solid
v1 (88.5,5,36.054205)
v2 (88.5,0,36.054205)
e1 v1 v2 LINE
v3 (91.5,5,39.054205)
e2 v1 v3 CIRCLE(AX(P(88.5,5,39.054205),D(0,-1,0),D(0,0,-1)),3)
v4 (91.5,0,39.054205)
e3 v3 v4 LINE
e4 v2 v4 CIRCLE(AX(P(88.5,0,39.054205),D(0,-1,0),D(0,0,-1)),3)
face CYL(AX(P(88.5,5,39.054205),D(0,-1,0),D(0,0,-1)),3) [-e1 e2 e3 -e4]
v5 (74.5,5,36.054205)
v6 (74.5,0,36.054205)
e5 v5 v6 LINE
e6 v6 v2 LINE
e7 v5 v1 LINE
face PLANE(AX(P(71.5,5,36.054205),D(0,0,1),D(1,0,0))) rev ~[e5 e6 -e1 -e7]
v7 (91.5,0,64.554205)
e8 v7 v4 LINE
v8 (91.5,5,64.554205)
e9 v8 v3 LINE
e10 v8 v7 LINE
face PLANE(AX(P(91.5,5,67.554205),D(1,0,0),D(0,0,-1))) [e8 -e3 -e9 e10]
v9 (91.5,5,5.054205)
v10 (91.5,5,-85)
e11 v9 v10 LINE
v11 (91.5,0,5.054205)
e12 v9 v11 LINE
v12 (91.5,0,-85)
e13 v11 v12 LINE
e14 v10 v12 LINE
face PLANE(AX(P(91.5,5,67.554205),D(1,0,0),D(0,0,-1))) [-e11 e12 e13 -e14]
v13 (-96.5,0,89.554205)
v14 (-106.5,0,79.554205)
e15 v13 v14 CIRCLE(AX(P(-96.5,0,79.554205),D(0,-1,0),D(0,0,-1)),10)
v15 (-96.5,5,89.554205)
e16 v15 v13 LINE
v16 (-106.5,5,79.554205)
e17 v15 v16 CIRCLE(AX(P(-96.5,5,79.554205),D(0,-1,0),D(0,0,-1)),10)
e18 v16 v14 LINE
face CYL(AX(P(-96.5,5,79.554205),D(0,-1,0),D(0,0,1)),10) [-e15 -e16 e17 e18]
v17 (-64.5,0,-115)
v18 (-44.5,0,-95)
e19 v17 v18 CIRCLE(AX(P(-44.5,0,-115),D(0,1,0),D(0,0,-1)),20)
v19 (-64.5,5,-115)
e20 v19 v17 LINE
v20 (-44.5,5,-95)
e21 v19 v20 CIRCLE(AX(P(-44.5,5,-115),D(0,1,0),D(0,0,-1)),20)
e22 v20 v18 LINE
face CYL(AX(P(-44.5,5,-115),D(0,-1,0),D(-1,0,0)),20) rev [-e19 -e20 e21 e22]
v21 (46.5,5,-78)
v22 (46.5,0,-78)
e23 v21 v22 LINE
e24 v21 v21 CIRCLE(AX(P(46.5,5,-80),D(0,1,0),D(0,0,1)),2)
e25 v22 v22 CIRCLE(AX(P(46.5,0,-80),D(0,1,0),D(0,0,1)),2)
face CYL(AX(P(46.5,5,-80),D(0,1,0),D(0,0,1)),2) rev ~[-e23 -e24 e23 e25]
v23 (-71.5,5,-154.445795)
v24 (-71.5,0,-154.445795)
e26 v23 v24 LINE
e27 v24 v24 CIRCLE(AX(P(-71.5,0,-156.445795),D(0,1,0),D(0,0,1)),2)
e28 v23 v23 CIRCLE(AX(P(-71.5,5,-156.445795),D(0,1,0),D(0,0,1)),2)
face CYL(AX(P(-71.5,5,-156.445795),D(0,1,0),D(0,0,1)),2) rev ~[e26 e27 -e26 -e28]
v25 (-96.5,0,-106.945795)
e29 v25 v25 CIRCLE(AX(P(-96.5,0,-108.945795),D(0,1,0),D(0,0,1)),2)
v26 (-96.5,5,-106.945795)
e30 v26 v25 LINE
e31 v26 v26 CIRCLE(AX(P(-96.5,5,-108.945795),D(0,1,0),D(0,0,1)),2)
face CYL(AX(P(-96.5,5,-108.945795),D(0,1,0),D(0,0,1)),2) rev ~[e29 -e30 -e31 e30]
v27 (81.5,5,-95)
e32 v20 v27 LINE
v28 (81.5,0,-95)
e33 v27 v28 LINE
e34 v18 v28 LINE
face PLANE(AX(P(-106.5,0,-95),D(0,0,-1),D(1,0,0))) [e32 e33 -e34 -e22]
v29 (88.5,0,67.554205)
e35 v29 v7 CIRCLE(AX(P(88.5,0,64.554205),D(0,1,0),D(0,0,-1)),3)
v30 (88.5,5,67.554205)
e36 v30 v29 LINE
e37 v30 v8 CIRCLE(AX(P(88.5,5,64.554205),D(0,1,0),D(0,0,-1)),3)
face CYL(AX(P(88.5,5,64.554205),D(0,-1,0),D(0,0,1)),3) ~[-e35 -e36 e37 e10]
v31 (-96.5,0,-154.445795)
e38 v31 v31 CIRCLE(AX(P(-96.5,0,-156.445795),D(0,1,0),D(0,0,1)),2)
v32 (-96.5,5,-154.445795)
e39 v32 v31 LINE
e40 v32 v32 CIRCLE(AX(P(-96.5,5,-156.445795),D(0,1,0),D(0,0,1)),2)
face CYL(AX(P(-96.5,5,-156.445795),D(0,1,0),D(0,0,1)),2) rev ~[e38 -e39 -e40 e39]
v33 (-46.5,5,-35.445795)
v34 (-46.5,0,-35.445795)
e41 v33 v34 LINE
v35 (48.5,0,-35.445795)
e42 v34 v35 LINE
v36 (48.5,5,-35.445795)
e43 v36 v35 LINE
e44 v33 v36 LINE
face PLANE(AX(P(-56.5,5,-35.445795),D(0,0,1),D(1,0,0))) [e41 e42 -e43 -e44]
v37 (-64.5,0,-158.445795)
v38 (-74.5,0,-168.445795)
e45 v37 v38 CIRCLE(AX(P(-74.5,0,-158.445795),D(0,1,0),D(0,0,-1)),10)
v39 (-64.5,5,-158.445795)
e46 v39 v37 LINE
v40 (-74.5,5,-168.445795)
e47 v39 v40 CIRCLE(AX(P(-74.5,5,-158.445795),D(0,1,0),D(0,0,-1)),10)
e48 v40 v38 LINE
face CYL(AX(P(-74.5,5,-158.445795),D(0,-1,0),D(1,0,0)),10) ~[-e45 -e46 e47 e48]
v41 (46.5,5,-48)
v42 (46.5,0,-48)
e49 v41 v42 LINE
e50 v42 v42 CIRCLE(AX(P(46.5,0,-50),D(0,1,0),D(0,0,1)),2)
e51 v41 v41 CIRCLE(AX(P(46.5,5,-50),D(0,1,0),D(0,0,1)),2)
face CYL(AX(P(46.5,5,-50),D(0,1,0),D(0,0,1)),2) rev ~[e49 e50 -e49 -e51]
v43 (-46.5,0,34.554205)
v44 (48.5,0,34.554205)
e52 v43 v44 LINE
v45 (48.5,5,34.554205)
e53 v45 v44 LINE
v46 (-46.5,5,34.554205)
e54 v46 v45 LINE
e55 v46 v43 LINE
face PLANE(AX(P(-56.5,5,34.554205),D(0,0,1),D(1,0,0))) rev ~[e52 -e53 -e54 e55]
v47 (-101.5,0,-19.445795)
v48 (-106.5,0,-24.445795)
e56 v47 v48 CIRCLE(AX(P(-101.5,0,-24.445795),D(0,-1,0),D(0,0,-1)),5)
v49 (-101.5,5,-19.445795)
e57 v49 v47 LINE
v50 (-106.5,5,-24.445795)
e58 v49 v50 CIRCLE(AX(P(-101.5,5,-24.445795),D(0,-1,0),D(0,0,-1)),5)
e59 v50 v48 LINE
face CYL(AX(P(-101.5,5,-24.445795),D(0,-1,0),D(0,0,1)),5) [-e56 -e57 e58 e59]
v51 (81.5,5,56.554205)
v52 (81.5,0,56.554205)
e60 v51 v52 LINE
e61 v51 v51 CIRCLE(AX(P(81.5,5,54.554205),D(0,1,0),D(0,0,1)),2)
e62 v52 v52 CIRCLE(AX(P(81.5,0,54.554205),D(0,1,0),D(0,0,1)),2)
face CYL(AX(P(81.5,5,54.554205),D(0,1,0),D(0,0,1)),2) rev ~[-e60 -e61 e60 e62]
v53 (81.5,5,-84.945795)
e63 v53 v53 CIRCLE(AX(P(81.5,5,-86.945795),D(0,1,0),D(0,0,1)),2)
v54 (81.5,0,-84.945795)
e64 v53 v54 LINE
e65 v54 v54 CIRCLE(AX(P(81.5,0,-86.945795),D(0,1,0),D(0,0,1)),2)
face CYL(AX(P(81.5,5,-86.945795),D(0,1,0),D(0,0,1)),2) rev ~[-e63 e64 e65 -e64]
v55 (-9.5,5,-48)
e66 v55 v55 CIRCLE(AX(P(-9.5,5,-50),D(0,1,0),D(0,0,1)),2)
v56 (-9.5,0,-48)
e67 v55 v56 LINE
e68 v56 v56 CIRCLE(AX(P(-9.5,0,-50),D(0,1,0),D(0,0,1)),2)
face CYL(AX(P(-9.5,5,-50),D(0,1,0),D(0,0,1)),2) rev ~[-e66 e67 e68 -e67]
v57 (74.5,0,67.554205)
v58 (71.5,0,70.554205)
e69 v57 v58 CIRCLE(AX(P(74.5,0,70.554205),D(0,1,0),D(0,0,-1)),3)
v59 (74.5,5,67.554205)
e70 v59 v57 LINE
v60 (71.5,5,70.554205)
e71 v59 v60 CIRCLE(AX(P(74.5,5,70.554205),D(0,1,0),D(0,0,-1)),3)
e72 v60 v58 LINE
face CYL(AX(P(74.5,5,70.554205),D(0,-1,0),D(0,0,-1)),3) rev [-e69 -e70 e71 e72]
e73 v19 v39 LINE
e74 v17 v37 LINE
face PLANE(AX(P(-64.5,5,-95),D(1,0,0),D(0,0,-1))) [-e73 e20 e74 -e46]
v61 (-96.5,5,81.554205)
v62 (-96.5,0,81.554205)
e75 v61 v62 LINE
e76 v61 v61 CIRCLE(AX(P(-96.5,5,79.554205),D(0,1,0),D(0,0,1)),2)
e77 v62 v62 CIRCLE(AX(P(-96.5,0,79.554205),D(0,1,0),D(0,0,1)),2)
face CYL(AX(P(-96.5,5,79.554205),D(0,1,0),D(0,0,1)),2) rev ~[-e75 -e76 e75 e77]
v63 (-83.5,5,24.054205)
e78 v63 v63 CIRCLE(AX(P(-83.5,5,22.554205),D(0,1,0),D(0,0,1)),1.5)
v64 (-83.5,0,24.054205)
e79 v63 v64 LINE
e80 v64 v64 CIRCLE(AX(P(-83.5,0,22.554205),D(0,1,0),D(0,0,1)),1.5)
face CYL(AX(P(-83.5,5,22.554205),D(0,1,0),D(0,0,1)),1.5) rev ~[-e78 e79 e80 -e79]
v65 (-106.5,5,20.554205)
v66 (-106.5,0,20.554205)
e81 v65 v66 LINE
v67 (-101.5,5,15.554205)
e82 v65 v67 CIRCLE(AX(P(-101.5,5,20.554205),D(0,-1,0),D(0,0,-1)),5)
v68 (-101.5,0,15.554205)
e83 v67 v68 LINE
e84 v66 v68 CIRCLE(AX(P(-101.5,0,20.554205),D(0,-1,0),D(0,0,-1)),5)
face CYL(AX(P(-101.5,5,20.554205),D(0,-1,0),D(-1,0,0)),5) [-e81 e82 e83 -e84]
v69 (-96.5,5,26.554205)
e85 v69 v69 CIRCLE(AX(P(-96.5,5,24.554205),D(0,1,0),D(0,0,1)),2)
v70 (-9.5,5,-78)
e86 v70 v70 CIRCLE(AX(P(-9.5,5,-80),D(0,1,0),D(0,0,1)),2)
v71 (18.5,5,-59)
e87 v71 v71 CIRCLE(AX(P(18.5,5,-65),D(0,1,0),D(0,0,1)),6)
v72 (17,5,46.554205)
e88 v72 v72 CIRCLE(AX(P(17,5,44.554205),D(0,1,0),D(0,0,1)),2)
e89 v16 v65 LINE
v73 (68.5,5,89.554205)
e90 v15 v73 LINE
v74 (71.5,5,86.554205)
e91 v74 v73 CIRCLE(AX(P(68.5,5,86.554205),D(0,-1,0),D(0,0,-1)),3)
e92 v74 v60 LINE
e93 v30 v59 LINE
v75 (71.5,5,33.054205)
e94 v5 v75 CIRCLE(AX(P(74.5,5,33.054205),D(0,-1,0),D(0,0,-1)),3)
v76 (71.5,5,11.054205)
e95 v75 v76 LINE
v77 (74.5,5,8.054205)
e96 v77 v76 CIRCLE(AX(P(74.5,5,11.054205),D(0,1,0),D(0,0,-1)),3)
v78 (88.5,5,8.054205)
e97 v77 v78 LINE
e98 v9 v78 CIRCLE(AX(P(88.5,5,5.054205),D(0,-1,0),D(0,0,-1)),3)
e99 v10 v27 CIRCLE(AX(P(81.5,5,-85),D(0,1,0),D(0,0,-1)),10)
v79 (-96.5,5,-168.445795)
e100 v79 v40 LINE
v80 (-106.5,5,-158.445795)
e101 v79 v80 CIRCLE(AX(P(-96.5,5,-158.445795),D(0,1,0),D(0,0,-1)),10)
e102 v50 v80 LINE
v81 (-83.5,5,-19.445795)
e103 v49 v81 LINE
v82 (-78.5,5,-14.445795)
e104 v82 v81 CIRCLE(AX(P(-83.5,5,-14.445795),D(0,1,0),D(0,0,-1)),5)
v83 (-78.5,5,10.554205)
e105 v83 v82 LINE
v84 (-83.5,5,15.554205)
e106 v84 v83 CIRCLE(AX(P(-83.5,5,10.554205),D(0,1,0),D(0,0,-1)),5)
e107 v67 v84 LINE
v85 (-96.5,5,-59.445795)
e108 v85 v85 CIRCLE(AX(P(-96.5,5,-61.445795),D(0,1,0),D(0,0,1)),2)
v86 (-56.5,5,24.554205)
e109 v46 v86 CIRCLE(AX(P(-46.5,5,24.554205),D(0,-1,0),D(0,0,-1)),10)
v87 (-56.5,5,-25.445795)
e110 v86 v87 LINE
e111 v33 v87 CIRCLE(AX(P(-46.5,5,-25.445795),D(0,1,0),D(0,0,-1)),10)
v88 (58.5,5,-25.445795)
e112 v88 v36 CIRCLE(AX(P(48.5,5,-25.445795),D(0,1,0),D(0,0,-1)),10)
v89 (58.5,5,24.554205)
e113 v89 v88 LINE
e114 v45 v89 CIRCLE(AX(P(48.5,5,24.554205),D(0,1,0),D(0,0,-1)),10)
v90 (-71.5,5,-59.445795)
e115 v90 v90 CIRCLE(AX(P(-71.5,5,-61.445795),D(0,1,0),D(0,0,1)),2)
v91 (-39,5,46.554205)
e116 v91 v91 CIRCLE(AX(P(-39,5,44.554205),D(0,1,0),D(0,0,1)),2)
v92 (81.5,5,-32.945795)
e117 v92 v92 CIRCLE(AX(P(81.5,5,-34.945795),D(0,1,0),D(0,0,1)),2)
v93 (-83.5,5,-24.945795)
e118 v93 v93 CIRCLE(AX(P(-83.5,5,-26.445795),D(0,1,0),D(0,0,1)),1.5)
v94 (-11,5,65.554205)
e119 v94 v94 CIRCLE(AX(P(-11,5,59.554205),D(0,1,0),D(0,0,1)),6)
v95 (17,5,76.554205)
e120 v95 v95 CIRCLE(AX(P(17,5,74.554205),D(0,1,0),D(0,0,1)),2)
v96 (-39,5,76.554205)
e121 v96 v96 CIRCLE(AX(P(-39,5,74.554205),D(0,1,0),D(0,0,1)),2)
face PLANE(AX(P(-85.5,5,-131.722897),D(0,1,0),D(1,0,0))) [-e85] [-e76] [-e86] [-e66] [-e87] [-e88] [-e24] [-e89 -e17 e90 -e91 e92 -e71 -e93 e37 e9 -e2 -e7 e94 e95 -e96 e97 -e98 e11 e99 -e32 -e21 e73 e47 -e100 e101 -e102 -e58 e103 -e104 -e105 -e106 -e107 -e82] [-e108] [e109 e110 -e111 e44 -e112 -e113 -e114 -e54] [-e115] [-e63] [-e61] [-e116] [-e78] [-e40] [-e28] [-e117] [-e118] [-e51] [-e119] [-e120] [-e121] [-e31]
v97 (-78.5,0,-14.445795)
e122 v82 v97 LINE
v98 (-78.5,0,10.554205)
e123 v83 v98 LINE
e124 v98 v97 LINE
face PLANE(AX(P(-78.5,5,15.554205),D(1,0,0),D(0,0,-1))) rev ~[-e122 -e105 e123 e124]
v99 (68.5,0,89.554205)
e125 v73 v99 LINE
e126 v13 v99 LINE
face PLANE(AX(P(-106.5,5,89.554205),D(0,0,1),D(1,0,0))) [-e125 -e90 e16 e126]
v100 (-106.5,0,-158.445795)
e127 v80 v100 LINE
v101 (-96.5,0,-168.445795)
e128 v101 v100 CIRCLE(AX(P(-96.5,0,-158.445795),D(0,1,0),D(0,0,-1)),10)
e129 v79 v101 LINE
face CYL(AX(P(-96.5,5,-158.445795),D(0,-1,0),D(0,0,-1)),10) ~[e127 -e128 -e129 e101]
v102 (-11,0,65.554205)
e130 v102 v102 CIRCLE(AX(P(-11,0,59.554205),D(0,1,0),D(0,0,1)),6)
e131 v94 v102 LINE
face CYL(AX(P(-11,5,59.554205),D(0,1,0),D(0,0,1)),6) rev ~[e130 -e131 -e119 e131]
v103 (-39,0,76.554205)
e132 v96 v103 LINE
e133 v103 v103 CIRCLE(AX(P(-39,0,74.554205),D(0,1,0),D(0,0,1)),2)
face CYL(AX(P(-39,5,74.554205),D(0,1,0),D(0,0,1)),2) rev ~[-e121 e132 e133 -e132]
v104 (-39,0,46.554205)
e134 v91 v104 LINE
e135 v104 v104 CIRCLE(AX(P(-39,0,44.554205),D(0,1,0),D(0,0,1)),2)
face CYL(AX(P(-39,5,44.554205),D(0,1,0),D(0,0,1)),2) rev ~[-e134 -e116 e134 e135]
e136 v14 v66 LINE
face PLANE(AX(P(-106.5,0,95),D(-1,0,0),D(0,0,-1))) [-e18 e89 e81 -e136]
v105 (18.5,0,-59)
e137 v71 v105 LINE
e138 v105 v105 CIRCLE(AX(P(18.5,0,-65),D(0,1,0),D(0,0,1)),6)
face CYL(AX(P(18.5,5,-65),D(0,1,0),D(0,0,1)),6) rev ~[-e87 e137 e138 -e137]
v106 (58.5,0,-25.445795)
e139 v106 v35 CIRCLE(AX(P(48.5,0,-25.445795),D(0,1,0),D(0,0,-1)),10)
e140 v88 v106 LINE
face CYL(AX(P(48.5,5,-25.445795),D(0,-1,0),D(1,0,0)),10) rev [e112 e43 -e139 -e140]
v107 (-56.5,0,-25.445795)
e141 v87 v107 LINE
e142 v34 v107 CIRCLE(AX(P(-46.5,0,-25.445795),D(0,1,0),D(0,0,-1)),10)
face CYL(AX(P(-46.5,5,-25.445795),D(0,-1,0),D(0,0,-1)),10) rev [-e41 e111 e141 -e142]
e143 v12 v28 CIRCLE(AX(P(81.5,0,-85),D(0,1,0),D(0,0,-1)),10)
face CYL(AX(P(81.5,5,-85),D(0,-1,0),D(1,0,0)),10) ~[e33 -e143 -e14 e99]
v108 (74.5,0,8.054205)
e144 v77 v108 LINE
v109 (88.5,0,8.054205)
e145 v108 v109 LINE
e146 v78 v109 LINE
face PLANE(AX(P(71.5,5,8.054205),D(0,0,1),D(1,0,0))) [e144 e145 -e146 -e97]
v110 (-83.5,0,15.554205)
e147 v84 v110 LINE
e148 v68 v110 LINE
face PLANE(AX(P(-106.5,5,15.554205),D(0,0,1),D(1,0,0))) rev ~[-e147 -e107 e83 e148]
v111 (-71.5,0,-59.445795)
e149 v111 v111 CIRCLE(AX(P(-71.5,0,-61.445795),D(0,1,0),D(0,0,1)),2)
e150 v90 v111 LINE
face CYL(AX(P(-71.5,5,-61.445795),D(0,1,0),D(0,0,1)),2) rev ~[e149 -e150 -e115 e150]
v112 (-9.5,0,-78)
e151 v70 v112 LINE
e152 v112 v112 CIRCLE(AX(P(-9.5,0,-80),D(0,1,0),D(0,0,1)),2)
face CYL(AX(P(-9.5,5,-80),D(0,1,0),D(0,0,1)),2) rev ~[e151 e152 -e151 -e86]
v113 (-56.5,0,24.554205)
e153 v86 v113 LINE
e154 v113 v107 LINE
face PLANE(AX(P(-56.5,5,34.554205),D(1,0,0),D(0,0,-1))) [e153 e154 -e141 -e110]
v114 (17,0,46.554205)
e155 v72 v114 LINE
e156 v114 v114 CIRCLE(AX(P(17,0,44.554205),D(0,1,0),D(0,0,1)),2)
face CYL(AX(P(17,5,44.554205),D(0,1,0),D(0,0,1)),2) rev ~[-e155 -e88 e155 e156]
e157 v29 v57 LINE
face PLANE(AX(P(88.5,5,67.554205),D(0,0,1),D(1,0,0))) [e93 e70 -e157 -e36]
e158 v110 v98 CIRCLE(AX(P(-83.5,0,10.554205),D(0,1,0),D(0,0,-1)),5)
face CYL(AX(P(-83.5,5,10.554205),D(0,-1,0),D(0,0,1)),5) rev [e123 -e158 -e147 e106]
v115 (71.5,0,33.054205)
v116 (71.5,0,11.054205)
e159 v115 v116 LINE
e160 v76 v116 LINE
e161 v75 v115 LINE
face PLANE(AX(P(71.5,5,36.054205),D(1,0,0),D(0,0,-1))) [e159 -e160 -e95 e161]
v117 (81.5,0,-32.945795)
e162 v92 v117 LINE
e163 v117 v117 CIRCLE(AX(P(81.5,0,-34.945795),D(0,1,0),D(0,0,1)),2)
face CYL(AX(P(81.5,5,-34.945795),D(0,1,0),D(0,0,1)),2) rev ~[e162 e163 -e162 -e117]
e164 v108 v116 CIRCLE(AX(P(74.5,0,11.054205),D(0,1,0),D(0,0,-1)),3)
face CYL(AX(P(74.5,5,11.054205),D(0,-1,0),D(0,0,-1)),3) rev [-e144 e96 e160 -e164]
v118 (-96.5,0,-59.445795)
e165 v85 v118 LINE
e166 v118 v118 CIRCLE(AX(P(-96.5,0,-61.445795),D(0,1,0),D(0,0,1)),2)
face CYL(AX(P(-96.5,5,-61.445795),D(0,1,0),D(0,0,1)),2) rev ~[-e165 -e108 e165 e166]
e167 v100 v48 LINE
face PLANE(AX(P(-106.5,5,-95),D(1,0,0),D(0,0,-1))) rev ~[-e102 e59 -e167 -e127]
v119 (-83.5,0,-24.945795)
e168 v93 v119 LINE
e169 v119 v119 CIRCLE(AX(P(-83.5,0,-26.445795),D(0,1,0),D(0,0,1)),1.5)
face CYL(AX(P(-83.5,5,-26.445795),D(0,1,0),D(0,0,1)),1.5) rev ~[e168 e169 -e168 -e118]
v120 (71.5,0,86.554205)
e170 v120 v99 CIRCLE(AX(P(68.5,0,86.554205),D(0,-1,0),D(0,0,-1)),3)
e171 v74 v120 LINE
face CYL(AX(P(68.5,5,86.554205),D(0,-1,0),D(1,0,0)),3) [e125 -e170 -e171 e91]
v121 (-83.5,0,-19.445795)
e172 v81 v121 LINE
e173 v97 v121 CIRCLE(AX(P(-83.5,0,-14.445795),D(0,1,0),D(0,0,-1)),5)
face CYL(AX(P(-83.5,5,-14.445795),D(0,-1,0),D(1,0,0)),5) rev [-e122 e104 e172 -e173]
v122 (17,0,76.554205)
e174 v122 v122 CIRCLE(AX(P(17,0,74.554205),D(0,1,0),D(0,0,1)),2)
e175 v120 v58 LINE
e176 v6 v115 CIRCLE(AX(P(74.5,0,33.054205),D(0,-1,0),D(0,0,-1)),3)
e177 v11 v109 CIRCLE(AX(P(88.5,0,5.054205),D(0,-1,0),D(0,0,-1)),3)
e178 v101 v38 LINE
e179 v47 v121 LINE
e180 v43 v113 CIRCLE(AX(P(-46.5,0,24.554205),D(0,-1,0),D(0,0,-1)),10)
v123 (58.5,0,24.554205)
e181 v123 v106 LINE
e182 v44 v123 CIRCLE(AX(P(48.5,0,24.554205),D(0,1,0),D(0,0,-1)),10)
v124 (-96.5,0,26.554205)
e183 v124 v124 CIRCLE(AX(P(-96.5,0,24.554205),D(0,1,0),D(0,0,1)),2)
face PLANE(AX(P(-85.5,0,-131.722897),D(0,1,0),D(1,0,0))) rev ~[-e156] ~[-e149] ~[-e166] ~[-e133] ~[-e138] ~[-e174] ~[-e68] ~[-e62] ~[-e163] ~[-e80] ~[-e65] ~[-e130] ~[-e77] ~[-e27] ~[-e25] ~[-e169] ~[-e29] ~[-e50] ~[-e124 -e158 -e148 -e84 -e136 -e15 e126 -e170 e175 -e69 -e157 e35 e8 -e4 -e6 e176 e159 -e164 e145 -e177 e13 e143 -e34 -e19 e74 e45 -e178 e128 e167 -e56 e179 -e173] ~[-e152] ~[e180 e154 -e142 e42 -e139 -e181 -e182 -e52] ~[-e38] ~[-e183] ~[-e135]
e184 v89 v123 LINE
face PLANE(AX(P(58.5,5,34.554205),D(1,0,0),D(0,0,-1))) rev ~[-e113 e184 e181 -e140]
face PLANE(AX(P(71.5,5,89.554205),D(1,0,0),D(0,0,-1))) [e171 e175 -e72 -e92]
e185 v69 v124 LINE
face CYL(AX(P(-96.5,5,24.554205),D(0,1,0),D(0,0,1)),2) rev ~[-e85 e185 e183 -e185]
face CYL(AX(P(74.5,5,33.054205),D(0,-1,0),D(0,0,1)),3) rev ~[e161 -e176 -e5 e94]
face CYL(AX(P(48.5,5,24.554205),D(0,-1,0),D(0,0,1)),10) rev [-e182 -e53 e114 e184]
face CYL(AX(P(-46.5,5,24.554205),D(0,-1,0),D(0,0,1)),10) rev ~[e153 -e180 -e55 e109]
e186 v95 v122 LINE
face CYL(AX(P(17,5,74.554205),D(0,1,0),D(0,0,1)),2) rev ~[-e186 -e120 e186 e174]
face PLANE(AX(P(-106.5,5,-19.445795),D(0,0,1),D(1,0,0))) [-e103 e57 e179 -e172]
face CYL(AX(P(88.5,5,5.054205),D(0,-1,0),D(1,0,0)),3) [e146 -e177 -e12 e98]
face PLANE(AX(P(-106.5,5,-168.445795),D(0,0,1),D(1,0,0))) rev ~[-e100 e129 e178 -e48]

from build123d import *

# Parameters (mm, degrees)
SKETCH_1_W           = 213
SKETCH_1_H           = 190
EXTRUDE_1_DEPTH      = 5
SKETCH_2_R           = 2
SKETCH_2_R_2         = 6
CUT_EXTRUDE_1_DEPTH  = 143.801435567
SKETCH_3_W           = 213
SKETCH_3_H           = 5.445794932
CUT_EXTRUDE_2_DEPTH  = 143.801435567
SKETCH_4_W           = 28
SKETCH_4_H           = 35
CUT_EXTRUDE_3_DEPTH  = 143.801435567
FILLET_1_R           = 5
SKETCH_5_W           = 42
SKETCH_5_H           = 73.445794932
EXTRUDE_2_DEPTH      = 5
FILLET_2_R           = 20
SKETCH_6_R           = 2
CUT_EXTRUDE_4_DEPTH  = 200.352039946
SKETCH_7_R           = 2
CUT_EXTRUDE_5_DEPTH  = 200.352039946
SKETCH_8_W           = 20
SKETCH_8_H           = 22
SKETCH_8_H_2         = 28
CUT_EXTRUDE_6_DEPTH  = 200.352039946
FILLET_3_R           = 3
SKETCH_9_W           = 18
SKETCH_9_H           = 22
CUT_EXTRUDE_7_DEPTH  = 200.352039946
SKETCH_10_R          = 1.5
CUT_EXTRUDE_8_DEPTH  = 200.352039946
FILLET_4_R           = 10
SKETCH_11_W          = 115
SKETCH_11_H          = 70
CUT_EXTRUDE_9_DEPTH  = 200.352039946
FILLET_5_R           = 10
SKETCH_12_W          = 19.993467056
SKETCH_12_H          = 162.554205068
CUT_EXTRUDE_10_DEPTH = 200.352039946
FILLET_6_R           = 3
FILLET_7_R           = 10


with BuildPart() as part:
    # 草图1 → 凸台-拉伸1 (new body)
    with BuildSketch(Plane(origin=(0, 0, 0), x_dir=(1, 0, 0), z_dir=(0, 1, 0))):
        Rectangle(SKETCH_1_W, SKETCH_1_H)
    extrude(amount=EXTRUDE_1_DEPTH)

    # 草图2 → 切除-拉伸1 (cut, through all)
    with BuildSketch(Plane(origin=(0, 5, 0), x_dir=(1, 0, 0), z_dir=(0, 1, 0))):
        with Locations(Location((-9.5, 80, 0), (0, 0, 270))):
            Circle(SKETCH_2_R)
        with Locations(Location((46.5, 80, 0), (0, 0, 270))):
            Circle(SKETCH_2_R)
        with Locations(Location((-9.5, 50, 0), (0, 0, 270))):
            Circle(SKETCH_2_R)
        with Locations(Location((46.5, 50, 0), (0, 0, 270))):
            Circle(SKETCH_2_R)
        with Locations(Location((-39, -44.554205068, 0), (0, 0, 270))):
            Circle(SKETCH_2_R)
        with Locations(Location((17, -44.554205068, 0), (0, 0, 270))):
            Circle(SKETCH_2_R)
        with Locations(Location((17, -74.554205068, 0), (0, 0, 270))):
            Circle(SKETCH_2_R)
        with Locations(Location((-39, -74.554205068, 0), (0, 0, 270))):
            Circle(SKETCH_2_R)
        with Locations(Location((-11, -59.554205068, 0), (0, 0, 270))):
            Circle(SKETCH_2_R_2)
        with Locations(Location((18.5, 65, 0), (0, 0, 270))):
            Circle(SKETCH_2_R_2)
    extrude(amount=-CUT_EXTRUDE_1_DEPTH, mode=Mode.SUBTRACT)

    # 草图3 → 切除-拉伸2 (cut, through all)
    with BuildSketch(Plane(origin=(0, 5, 0), x_dir=(1, 0, 0), z_dir=(0, 1, 0))):
        with Locations((0, -92.277102534)):
            Rectangle(SKETCH_3_W, SKETCH_3_H)
    extrude(amount=-CUT_EXTRUDE_2_DEPTH, mode=Mode.SUBTRACT)

    # 草图4 → 切除-拉伸3 (cut, through all)
    with BuildSketch(Plane(origin=(0, 5, 0), x_dir=(1, 0, 0), z_dir=(0, 1, 0))):
        with Locations((-92.5, 1.945794932)):
            Rectangle(SKETCH_4_W, SKETCH_4_H)
    extrude(amount=-CUT_EXTRUDE_3_DEPTH, mode=Mode.SUBTRACT)

    # 圆角1
    fillet_1_edges = [part.edges().sort_by_distance(p)[0] for p in [
        (-106.5, 2.5, 15.554205068),
        (-106.5, 2.5, -19.445794932),
        (-78.5, 2.5, -19.445794932),
        (-78.5, 2.5, 15.554205068),
    ]]
    fillet(fillet_1_edges, radius=FILLET_1_R)

    # 草图5 → 凸台-拉伸2 (add)
    with BuildSketch(Plane(origin=(0, 5, 0), x_dir=(1, 0, 0), z_dir=(0, 1, 0))):
        with Locations((-85.5, 131.722897466)):
            Rectangle(SKETCH_5_W, SKETCH_5_H)
    extrude(amount=-EXTRUDE_2_DEPTH)

    # 圆角2
    fillet_2_edges = [part.edges().sort_by_distance(p)[0] for p in [
        (-64.5, 2.5, -95),
    ]]
    fillet(fillet_2_edges, radius=FILLET_2_R)

    # 草图6 → 切除-拉伸4 (cut, through all)
    with BuildSketch(Plane(origin=(0, 5, 0), x_dir=(1, 0, 0), z_dir=(0, 1, 0))):
        with Locations(Location((-96.5, 156.445794932, 0), (0, 0, 270))):
            Circle(SKETCH_6_R)
        with Locations(Location((-71.5, 156.445794932, 0), (0, 0, 270))):
            Circle(SKETCH_6_R)
        with Locations(Location((-71.5, 61.445794932, 0), (0, 0, 270))):
            Circle(SKETCH_6_R)
        with Locations(Location((-96.5, 61.445794932, 0), (0, 0, 270))):
            Circle(SKETCH_6_R)
    extrude(amount=-CUT_EXTRUDE_4_DEPTH, mode=Mode.SUBTRACT)

    # 草图7 → 切除-拉伸5 (cut, through all)
    with BuildSketch(Plane(origin=(0, 5, 0), x_dir=(1, 0, 0), z_dir=(0, 1, 0))):
        with Locations(Location((-96.5, 108.945794932, 0), (0, 0, 270))):
            Circle(SKETCH_7_R)
        with Locations(Location((-96.5, -24.554205068, 0), (0, 0, 270))):
            Circle(SKETCH_7_R)
        with Locations(Location((-96.5, -79.554205068, 0), (0, 0, 270))):
            Circle(SKETCH_7_R)
        with Locations(Location((81.5, 86.945794932, 0), (0, 0, 270))):
            Circle(SKETCH_7_R)
        with Locations(Location((81.5, 34.945794932, 0), (0, 0, 270))):
            Circle(SKETCH_7_R)
        with Locations(Location((81.5, -54.554205068, 0), (0, 0, 270))):
            Circle(SKETCH_7_R)
    extrude(amount=-CUT_EXTRUDE_5_DEPTH, mode=Mode.SUBTRACT)

    # 草图8 → 切除-拉伸6 (cut, through all)
    with BuildSketch(Plane(origin=(0, 5, 0), x_dir=(1, 0, 0), z_dir=(0, 1, 0))):
        with Locations((81.5, -78.554205068)):
            Rectangle(SKETCH_8_W, SKETCH_8_H)
        with Locations((81.5, -22.054205068)):
            Rectangle(SKETCH_8_W, SKETCH_8_H_2)
    extrude(amount=-CUT_EXTRUDE_6_DEPTH, mode=Mode.SUBTRACT)

    # 圆角3
    fillet_3_edges = [part.edges().sort_by_distance(p)[0] for p in [
        (91.5, 2.5, 89.554205068),
        (71.5, 2.5, 89.554205068),
        (71.5, 2.5, 67.554205068),
        (91.5, 2.5, 67.554205068),
        (71.5, 2.5, 36.054205068),
        (71.5, 2.5, 8.054205068),
    ]]
    fillet(fillet_3_edges, radius=FILLET_3_R)

    # 草图9 → 切除-拉伸7 (cut, through all)
    with BuildSketch(Plane(origin=(0, 5, 0), x_dir=(1, 0, 0), z_dir=(0, 1, 0))):
        with Locations((97.5, -78.554205068)):
            Rectangle(SKETCH_9_W, SKETCH_9_H)
    extrude(amount=-CUT_EXTRUDE_7_DEPTH, mode=Mode.SUBTRACT)

    # 草图10 → 切除-拉伸8 (cut, through all)
    with BuildSketch(Plane(origin=(0, 5, 0), x_dir=(1, 0, 0), z_dir=(0, 1, 0))):
        with Locations(Location((-83.5, 26.445794932, 0), (0, 0, 270))):
            Circle(SKETCH_10_R)
        with Locations(Location((-83.5, -22.554205068, 0), (0, 0, 270))):
            Circle(SKETCH_10_R)
    extrude(amount=-CUT_EXTRUDE_8_DEPTH, mode=Mode.SUBTRACT)

    # 圆角4
    fillet_4_edges = [part.edges().sort_by_distance(p)[0] for p in [
        (-106.5, 2.5, -168.445794932),
        (-64.5, 2.5, -168.445794932),
        (106.5, 2.5, 67.554205068),
        (-106.5, 2.5, 89.554205068),
        (106.5, 2.5, -95),
    ]]
    fillet(fillet_4_edges, radius=FILLET_4_R)

    # 草图11 → 切除-拉伸9 (cut, through all)
    with BuildSketch(Plane(origin=(0, 5, 0), x_dir=(1, 0, 0), z_dir=(0, 1, 0))):
        with Locations((1, 0.445794932)):
            Rectangle(SKETCH_11_W, SKETCH_11_H)
    extrude(amount=-CUT_EXTRUDE_9_DEPTH, mode=Mode.SUBTRACT)

    # 圆角5
    fillet_5_edges = [part.edges().sort_by_distance(p)[0] for p in [
        (-56.5, 2.5, 34.554205068),
        (-56.5, 2.5, -35.445794932),
        (58.5, 2.5, -35.445794932),
        (58.5, 2.5, 34.554205068),
    ]]
    fillet(fillet_5_edges, radius=FILLET_5_R)

    # 草图12 → 切除-拉伸10 (cut, through all)
    with BuildSketch(Plane(origin=(0, 5, 0), x_dir=(1, 0, 0), z_dir=(0, 1, 0))):
        with Locations((101.496733528, 13.722897466)):
            Rectangle(SKETCH_12_W, SKETCH_12_H)
    extrude(amount=-CUT_EXTRUDE_10_DEPTH, mode=Mode.SUBTRACT)

    # 圆角6
    fillet_6_edges = [part.edges().sort_by_distance(p)[0] for p in [
        (91.5, 2.5, 36.054205068),
        (91.5, 2.5, 8.054205068),
        (91.5, 2.5, 67.554205068),
    ]]
    fillet(fillet_6_edges, radius=FILLET_6_R)

    # 圆角7
    fillet_7_edges = [part.edges().sort_by_distance(p)[0] for p in [
        (91.5, 2.5, -95),
    ]]
    fillet(fillet_7_edges, radius=FILLET_7_R)


solid = part.part
